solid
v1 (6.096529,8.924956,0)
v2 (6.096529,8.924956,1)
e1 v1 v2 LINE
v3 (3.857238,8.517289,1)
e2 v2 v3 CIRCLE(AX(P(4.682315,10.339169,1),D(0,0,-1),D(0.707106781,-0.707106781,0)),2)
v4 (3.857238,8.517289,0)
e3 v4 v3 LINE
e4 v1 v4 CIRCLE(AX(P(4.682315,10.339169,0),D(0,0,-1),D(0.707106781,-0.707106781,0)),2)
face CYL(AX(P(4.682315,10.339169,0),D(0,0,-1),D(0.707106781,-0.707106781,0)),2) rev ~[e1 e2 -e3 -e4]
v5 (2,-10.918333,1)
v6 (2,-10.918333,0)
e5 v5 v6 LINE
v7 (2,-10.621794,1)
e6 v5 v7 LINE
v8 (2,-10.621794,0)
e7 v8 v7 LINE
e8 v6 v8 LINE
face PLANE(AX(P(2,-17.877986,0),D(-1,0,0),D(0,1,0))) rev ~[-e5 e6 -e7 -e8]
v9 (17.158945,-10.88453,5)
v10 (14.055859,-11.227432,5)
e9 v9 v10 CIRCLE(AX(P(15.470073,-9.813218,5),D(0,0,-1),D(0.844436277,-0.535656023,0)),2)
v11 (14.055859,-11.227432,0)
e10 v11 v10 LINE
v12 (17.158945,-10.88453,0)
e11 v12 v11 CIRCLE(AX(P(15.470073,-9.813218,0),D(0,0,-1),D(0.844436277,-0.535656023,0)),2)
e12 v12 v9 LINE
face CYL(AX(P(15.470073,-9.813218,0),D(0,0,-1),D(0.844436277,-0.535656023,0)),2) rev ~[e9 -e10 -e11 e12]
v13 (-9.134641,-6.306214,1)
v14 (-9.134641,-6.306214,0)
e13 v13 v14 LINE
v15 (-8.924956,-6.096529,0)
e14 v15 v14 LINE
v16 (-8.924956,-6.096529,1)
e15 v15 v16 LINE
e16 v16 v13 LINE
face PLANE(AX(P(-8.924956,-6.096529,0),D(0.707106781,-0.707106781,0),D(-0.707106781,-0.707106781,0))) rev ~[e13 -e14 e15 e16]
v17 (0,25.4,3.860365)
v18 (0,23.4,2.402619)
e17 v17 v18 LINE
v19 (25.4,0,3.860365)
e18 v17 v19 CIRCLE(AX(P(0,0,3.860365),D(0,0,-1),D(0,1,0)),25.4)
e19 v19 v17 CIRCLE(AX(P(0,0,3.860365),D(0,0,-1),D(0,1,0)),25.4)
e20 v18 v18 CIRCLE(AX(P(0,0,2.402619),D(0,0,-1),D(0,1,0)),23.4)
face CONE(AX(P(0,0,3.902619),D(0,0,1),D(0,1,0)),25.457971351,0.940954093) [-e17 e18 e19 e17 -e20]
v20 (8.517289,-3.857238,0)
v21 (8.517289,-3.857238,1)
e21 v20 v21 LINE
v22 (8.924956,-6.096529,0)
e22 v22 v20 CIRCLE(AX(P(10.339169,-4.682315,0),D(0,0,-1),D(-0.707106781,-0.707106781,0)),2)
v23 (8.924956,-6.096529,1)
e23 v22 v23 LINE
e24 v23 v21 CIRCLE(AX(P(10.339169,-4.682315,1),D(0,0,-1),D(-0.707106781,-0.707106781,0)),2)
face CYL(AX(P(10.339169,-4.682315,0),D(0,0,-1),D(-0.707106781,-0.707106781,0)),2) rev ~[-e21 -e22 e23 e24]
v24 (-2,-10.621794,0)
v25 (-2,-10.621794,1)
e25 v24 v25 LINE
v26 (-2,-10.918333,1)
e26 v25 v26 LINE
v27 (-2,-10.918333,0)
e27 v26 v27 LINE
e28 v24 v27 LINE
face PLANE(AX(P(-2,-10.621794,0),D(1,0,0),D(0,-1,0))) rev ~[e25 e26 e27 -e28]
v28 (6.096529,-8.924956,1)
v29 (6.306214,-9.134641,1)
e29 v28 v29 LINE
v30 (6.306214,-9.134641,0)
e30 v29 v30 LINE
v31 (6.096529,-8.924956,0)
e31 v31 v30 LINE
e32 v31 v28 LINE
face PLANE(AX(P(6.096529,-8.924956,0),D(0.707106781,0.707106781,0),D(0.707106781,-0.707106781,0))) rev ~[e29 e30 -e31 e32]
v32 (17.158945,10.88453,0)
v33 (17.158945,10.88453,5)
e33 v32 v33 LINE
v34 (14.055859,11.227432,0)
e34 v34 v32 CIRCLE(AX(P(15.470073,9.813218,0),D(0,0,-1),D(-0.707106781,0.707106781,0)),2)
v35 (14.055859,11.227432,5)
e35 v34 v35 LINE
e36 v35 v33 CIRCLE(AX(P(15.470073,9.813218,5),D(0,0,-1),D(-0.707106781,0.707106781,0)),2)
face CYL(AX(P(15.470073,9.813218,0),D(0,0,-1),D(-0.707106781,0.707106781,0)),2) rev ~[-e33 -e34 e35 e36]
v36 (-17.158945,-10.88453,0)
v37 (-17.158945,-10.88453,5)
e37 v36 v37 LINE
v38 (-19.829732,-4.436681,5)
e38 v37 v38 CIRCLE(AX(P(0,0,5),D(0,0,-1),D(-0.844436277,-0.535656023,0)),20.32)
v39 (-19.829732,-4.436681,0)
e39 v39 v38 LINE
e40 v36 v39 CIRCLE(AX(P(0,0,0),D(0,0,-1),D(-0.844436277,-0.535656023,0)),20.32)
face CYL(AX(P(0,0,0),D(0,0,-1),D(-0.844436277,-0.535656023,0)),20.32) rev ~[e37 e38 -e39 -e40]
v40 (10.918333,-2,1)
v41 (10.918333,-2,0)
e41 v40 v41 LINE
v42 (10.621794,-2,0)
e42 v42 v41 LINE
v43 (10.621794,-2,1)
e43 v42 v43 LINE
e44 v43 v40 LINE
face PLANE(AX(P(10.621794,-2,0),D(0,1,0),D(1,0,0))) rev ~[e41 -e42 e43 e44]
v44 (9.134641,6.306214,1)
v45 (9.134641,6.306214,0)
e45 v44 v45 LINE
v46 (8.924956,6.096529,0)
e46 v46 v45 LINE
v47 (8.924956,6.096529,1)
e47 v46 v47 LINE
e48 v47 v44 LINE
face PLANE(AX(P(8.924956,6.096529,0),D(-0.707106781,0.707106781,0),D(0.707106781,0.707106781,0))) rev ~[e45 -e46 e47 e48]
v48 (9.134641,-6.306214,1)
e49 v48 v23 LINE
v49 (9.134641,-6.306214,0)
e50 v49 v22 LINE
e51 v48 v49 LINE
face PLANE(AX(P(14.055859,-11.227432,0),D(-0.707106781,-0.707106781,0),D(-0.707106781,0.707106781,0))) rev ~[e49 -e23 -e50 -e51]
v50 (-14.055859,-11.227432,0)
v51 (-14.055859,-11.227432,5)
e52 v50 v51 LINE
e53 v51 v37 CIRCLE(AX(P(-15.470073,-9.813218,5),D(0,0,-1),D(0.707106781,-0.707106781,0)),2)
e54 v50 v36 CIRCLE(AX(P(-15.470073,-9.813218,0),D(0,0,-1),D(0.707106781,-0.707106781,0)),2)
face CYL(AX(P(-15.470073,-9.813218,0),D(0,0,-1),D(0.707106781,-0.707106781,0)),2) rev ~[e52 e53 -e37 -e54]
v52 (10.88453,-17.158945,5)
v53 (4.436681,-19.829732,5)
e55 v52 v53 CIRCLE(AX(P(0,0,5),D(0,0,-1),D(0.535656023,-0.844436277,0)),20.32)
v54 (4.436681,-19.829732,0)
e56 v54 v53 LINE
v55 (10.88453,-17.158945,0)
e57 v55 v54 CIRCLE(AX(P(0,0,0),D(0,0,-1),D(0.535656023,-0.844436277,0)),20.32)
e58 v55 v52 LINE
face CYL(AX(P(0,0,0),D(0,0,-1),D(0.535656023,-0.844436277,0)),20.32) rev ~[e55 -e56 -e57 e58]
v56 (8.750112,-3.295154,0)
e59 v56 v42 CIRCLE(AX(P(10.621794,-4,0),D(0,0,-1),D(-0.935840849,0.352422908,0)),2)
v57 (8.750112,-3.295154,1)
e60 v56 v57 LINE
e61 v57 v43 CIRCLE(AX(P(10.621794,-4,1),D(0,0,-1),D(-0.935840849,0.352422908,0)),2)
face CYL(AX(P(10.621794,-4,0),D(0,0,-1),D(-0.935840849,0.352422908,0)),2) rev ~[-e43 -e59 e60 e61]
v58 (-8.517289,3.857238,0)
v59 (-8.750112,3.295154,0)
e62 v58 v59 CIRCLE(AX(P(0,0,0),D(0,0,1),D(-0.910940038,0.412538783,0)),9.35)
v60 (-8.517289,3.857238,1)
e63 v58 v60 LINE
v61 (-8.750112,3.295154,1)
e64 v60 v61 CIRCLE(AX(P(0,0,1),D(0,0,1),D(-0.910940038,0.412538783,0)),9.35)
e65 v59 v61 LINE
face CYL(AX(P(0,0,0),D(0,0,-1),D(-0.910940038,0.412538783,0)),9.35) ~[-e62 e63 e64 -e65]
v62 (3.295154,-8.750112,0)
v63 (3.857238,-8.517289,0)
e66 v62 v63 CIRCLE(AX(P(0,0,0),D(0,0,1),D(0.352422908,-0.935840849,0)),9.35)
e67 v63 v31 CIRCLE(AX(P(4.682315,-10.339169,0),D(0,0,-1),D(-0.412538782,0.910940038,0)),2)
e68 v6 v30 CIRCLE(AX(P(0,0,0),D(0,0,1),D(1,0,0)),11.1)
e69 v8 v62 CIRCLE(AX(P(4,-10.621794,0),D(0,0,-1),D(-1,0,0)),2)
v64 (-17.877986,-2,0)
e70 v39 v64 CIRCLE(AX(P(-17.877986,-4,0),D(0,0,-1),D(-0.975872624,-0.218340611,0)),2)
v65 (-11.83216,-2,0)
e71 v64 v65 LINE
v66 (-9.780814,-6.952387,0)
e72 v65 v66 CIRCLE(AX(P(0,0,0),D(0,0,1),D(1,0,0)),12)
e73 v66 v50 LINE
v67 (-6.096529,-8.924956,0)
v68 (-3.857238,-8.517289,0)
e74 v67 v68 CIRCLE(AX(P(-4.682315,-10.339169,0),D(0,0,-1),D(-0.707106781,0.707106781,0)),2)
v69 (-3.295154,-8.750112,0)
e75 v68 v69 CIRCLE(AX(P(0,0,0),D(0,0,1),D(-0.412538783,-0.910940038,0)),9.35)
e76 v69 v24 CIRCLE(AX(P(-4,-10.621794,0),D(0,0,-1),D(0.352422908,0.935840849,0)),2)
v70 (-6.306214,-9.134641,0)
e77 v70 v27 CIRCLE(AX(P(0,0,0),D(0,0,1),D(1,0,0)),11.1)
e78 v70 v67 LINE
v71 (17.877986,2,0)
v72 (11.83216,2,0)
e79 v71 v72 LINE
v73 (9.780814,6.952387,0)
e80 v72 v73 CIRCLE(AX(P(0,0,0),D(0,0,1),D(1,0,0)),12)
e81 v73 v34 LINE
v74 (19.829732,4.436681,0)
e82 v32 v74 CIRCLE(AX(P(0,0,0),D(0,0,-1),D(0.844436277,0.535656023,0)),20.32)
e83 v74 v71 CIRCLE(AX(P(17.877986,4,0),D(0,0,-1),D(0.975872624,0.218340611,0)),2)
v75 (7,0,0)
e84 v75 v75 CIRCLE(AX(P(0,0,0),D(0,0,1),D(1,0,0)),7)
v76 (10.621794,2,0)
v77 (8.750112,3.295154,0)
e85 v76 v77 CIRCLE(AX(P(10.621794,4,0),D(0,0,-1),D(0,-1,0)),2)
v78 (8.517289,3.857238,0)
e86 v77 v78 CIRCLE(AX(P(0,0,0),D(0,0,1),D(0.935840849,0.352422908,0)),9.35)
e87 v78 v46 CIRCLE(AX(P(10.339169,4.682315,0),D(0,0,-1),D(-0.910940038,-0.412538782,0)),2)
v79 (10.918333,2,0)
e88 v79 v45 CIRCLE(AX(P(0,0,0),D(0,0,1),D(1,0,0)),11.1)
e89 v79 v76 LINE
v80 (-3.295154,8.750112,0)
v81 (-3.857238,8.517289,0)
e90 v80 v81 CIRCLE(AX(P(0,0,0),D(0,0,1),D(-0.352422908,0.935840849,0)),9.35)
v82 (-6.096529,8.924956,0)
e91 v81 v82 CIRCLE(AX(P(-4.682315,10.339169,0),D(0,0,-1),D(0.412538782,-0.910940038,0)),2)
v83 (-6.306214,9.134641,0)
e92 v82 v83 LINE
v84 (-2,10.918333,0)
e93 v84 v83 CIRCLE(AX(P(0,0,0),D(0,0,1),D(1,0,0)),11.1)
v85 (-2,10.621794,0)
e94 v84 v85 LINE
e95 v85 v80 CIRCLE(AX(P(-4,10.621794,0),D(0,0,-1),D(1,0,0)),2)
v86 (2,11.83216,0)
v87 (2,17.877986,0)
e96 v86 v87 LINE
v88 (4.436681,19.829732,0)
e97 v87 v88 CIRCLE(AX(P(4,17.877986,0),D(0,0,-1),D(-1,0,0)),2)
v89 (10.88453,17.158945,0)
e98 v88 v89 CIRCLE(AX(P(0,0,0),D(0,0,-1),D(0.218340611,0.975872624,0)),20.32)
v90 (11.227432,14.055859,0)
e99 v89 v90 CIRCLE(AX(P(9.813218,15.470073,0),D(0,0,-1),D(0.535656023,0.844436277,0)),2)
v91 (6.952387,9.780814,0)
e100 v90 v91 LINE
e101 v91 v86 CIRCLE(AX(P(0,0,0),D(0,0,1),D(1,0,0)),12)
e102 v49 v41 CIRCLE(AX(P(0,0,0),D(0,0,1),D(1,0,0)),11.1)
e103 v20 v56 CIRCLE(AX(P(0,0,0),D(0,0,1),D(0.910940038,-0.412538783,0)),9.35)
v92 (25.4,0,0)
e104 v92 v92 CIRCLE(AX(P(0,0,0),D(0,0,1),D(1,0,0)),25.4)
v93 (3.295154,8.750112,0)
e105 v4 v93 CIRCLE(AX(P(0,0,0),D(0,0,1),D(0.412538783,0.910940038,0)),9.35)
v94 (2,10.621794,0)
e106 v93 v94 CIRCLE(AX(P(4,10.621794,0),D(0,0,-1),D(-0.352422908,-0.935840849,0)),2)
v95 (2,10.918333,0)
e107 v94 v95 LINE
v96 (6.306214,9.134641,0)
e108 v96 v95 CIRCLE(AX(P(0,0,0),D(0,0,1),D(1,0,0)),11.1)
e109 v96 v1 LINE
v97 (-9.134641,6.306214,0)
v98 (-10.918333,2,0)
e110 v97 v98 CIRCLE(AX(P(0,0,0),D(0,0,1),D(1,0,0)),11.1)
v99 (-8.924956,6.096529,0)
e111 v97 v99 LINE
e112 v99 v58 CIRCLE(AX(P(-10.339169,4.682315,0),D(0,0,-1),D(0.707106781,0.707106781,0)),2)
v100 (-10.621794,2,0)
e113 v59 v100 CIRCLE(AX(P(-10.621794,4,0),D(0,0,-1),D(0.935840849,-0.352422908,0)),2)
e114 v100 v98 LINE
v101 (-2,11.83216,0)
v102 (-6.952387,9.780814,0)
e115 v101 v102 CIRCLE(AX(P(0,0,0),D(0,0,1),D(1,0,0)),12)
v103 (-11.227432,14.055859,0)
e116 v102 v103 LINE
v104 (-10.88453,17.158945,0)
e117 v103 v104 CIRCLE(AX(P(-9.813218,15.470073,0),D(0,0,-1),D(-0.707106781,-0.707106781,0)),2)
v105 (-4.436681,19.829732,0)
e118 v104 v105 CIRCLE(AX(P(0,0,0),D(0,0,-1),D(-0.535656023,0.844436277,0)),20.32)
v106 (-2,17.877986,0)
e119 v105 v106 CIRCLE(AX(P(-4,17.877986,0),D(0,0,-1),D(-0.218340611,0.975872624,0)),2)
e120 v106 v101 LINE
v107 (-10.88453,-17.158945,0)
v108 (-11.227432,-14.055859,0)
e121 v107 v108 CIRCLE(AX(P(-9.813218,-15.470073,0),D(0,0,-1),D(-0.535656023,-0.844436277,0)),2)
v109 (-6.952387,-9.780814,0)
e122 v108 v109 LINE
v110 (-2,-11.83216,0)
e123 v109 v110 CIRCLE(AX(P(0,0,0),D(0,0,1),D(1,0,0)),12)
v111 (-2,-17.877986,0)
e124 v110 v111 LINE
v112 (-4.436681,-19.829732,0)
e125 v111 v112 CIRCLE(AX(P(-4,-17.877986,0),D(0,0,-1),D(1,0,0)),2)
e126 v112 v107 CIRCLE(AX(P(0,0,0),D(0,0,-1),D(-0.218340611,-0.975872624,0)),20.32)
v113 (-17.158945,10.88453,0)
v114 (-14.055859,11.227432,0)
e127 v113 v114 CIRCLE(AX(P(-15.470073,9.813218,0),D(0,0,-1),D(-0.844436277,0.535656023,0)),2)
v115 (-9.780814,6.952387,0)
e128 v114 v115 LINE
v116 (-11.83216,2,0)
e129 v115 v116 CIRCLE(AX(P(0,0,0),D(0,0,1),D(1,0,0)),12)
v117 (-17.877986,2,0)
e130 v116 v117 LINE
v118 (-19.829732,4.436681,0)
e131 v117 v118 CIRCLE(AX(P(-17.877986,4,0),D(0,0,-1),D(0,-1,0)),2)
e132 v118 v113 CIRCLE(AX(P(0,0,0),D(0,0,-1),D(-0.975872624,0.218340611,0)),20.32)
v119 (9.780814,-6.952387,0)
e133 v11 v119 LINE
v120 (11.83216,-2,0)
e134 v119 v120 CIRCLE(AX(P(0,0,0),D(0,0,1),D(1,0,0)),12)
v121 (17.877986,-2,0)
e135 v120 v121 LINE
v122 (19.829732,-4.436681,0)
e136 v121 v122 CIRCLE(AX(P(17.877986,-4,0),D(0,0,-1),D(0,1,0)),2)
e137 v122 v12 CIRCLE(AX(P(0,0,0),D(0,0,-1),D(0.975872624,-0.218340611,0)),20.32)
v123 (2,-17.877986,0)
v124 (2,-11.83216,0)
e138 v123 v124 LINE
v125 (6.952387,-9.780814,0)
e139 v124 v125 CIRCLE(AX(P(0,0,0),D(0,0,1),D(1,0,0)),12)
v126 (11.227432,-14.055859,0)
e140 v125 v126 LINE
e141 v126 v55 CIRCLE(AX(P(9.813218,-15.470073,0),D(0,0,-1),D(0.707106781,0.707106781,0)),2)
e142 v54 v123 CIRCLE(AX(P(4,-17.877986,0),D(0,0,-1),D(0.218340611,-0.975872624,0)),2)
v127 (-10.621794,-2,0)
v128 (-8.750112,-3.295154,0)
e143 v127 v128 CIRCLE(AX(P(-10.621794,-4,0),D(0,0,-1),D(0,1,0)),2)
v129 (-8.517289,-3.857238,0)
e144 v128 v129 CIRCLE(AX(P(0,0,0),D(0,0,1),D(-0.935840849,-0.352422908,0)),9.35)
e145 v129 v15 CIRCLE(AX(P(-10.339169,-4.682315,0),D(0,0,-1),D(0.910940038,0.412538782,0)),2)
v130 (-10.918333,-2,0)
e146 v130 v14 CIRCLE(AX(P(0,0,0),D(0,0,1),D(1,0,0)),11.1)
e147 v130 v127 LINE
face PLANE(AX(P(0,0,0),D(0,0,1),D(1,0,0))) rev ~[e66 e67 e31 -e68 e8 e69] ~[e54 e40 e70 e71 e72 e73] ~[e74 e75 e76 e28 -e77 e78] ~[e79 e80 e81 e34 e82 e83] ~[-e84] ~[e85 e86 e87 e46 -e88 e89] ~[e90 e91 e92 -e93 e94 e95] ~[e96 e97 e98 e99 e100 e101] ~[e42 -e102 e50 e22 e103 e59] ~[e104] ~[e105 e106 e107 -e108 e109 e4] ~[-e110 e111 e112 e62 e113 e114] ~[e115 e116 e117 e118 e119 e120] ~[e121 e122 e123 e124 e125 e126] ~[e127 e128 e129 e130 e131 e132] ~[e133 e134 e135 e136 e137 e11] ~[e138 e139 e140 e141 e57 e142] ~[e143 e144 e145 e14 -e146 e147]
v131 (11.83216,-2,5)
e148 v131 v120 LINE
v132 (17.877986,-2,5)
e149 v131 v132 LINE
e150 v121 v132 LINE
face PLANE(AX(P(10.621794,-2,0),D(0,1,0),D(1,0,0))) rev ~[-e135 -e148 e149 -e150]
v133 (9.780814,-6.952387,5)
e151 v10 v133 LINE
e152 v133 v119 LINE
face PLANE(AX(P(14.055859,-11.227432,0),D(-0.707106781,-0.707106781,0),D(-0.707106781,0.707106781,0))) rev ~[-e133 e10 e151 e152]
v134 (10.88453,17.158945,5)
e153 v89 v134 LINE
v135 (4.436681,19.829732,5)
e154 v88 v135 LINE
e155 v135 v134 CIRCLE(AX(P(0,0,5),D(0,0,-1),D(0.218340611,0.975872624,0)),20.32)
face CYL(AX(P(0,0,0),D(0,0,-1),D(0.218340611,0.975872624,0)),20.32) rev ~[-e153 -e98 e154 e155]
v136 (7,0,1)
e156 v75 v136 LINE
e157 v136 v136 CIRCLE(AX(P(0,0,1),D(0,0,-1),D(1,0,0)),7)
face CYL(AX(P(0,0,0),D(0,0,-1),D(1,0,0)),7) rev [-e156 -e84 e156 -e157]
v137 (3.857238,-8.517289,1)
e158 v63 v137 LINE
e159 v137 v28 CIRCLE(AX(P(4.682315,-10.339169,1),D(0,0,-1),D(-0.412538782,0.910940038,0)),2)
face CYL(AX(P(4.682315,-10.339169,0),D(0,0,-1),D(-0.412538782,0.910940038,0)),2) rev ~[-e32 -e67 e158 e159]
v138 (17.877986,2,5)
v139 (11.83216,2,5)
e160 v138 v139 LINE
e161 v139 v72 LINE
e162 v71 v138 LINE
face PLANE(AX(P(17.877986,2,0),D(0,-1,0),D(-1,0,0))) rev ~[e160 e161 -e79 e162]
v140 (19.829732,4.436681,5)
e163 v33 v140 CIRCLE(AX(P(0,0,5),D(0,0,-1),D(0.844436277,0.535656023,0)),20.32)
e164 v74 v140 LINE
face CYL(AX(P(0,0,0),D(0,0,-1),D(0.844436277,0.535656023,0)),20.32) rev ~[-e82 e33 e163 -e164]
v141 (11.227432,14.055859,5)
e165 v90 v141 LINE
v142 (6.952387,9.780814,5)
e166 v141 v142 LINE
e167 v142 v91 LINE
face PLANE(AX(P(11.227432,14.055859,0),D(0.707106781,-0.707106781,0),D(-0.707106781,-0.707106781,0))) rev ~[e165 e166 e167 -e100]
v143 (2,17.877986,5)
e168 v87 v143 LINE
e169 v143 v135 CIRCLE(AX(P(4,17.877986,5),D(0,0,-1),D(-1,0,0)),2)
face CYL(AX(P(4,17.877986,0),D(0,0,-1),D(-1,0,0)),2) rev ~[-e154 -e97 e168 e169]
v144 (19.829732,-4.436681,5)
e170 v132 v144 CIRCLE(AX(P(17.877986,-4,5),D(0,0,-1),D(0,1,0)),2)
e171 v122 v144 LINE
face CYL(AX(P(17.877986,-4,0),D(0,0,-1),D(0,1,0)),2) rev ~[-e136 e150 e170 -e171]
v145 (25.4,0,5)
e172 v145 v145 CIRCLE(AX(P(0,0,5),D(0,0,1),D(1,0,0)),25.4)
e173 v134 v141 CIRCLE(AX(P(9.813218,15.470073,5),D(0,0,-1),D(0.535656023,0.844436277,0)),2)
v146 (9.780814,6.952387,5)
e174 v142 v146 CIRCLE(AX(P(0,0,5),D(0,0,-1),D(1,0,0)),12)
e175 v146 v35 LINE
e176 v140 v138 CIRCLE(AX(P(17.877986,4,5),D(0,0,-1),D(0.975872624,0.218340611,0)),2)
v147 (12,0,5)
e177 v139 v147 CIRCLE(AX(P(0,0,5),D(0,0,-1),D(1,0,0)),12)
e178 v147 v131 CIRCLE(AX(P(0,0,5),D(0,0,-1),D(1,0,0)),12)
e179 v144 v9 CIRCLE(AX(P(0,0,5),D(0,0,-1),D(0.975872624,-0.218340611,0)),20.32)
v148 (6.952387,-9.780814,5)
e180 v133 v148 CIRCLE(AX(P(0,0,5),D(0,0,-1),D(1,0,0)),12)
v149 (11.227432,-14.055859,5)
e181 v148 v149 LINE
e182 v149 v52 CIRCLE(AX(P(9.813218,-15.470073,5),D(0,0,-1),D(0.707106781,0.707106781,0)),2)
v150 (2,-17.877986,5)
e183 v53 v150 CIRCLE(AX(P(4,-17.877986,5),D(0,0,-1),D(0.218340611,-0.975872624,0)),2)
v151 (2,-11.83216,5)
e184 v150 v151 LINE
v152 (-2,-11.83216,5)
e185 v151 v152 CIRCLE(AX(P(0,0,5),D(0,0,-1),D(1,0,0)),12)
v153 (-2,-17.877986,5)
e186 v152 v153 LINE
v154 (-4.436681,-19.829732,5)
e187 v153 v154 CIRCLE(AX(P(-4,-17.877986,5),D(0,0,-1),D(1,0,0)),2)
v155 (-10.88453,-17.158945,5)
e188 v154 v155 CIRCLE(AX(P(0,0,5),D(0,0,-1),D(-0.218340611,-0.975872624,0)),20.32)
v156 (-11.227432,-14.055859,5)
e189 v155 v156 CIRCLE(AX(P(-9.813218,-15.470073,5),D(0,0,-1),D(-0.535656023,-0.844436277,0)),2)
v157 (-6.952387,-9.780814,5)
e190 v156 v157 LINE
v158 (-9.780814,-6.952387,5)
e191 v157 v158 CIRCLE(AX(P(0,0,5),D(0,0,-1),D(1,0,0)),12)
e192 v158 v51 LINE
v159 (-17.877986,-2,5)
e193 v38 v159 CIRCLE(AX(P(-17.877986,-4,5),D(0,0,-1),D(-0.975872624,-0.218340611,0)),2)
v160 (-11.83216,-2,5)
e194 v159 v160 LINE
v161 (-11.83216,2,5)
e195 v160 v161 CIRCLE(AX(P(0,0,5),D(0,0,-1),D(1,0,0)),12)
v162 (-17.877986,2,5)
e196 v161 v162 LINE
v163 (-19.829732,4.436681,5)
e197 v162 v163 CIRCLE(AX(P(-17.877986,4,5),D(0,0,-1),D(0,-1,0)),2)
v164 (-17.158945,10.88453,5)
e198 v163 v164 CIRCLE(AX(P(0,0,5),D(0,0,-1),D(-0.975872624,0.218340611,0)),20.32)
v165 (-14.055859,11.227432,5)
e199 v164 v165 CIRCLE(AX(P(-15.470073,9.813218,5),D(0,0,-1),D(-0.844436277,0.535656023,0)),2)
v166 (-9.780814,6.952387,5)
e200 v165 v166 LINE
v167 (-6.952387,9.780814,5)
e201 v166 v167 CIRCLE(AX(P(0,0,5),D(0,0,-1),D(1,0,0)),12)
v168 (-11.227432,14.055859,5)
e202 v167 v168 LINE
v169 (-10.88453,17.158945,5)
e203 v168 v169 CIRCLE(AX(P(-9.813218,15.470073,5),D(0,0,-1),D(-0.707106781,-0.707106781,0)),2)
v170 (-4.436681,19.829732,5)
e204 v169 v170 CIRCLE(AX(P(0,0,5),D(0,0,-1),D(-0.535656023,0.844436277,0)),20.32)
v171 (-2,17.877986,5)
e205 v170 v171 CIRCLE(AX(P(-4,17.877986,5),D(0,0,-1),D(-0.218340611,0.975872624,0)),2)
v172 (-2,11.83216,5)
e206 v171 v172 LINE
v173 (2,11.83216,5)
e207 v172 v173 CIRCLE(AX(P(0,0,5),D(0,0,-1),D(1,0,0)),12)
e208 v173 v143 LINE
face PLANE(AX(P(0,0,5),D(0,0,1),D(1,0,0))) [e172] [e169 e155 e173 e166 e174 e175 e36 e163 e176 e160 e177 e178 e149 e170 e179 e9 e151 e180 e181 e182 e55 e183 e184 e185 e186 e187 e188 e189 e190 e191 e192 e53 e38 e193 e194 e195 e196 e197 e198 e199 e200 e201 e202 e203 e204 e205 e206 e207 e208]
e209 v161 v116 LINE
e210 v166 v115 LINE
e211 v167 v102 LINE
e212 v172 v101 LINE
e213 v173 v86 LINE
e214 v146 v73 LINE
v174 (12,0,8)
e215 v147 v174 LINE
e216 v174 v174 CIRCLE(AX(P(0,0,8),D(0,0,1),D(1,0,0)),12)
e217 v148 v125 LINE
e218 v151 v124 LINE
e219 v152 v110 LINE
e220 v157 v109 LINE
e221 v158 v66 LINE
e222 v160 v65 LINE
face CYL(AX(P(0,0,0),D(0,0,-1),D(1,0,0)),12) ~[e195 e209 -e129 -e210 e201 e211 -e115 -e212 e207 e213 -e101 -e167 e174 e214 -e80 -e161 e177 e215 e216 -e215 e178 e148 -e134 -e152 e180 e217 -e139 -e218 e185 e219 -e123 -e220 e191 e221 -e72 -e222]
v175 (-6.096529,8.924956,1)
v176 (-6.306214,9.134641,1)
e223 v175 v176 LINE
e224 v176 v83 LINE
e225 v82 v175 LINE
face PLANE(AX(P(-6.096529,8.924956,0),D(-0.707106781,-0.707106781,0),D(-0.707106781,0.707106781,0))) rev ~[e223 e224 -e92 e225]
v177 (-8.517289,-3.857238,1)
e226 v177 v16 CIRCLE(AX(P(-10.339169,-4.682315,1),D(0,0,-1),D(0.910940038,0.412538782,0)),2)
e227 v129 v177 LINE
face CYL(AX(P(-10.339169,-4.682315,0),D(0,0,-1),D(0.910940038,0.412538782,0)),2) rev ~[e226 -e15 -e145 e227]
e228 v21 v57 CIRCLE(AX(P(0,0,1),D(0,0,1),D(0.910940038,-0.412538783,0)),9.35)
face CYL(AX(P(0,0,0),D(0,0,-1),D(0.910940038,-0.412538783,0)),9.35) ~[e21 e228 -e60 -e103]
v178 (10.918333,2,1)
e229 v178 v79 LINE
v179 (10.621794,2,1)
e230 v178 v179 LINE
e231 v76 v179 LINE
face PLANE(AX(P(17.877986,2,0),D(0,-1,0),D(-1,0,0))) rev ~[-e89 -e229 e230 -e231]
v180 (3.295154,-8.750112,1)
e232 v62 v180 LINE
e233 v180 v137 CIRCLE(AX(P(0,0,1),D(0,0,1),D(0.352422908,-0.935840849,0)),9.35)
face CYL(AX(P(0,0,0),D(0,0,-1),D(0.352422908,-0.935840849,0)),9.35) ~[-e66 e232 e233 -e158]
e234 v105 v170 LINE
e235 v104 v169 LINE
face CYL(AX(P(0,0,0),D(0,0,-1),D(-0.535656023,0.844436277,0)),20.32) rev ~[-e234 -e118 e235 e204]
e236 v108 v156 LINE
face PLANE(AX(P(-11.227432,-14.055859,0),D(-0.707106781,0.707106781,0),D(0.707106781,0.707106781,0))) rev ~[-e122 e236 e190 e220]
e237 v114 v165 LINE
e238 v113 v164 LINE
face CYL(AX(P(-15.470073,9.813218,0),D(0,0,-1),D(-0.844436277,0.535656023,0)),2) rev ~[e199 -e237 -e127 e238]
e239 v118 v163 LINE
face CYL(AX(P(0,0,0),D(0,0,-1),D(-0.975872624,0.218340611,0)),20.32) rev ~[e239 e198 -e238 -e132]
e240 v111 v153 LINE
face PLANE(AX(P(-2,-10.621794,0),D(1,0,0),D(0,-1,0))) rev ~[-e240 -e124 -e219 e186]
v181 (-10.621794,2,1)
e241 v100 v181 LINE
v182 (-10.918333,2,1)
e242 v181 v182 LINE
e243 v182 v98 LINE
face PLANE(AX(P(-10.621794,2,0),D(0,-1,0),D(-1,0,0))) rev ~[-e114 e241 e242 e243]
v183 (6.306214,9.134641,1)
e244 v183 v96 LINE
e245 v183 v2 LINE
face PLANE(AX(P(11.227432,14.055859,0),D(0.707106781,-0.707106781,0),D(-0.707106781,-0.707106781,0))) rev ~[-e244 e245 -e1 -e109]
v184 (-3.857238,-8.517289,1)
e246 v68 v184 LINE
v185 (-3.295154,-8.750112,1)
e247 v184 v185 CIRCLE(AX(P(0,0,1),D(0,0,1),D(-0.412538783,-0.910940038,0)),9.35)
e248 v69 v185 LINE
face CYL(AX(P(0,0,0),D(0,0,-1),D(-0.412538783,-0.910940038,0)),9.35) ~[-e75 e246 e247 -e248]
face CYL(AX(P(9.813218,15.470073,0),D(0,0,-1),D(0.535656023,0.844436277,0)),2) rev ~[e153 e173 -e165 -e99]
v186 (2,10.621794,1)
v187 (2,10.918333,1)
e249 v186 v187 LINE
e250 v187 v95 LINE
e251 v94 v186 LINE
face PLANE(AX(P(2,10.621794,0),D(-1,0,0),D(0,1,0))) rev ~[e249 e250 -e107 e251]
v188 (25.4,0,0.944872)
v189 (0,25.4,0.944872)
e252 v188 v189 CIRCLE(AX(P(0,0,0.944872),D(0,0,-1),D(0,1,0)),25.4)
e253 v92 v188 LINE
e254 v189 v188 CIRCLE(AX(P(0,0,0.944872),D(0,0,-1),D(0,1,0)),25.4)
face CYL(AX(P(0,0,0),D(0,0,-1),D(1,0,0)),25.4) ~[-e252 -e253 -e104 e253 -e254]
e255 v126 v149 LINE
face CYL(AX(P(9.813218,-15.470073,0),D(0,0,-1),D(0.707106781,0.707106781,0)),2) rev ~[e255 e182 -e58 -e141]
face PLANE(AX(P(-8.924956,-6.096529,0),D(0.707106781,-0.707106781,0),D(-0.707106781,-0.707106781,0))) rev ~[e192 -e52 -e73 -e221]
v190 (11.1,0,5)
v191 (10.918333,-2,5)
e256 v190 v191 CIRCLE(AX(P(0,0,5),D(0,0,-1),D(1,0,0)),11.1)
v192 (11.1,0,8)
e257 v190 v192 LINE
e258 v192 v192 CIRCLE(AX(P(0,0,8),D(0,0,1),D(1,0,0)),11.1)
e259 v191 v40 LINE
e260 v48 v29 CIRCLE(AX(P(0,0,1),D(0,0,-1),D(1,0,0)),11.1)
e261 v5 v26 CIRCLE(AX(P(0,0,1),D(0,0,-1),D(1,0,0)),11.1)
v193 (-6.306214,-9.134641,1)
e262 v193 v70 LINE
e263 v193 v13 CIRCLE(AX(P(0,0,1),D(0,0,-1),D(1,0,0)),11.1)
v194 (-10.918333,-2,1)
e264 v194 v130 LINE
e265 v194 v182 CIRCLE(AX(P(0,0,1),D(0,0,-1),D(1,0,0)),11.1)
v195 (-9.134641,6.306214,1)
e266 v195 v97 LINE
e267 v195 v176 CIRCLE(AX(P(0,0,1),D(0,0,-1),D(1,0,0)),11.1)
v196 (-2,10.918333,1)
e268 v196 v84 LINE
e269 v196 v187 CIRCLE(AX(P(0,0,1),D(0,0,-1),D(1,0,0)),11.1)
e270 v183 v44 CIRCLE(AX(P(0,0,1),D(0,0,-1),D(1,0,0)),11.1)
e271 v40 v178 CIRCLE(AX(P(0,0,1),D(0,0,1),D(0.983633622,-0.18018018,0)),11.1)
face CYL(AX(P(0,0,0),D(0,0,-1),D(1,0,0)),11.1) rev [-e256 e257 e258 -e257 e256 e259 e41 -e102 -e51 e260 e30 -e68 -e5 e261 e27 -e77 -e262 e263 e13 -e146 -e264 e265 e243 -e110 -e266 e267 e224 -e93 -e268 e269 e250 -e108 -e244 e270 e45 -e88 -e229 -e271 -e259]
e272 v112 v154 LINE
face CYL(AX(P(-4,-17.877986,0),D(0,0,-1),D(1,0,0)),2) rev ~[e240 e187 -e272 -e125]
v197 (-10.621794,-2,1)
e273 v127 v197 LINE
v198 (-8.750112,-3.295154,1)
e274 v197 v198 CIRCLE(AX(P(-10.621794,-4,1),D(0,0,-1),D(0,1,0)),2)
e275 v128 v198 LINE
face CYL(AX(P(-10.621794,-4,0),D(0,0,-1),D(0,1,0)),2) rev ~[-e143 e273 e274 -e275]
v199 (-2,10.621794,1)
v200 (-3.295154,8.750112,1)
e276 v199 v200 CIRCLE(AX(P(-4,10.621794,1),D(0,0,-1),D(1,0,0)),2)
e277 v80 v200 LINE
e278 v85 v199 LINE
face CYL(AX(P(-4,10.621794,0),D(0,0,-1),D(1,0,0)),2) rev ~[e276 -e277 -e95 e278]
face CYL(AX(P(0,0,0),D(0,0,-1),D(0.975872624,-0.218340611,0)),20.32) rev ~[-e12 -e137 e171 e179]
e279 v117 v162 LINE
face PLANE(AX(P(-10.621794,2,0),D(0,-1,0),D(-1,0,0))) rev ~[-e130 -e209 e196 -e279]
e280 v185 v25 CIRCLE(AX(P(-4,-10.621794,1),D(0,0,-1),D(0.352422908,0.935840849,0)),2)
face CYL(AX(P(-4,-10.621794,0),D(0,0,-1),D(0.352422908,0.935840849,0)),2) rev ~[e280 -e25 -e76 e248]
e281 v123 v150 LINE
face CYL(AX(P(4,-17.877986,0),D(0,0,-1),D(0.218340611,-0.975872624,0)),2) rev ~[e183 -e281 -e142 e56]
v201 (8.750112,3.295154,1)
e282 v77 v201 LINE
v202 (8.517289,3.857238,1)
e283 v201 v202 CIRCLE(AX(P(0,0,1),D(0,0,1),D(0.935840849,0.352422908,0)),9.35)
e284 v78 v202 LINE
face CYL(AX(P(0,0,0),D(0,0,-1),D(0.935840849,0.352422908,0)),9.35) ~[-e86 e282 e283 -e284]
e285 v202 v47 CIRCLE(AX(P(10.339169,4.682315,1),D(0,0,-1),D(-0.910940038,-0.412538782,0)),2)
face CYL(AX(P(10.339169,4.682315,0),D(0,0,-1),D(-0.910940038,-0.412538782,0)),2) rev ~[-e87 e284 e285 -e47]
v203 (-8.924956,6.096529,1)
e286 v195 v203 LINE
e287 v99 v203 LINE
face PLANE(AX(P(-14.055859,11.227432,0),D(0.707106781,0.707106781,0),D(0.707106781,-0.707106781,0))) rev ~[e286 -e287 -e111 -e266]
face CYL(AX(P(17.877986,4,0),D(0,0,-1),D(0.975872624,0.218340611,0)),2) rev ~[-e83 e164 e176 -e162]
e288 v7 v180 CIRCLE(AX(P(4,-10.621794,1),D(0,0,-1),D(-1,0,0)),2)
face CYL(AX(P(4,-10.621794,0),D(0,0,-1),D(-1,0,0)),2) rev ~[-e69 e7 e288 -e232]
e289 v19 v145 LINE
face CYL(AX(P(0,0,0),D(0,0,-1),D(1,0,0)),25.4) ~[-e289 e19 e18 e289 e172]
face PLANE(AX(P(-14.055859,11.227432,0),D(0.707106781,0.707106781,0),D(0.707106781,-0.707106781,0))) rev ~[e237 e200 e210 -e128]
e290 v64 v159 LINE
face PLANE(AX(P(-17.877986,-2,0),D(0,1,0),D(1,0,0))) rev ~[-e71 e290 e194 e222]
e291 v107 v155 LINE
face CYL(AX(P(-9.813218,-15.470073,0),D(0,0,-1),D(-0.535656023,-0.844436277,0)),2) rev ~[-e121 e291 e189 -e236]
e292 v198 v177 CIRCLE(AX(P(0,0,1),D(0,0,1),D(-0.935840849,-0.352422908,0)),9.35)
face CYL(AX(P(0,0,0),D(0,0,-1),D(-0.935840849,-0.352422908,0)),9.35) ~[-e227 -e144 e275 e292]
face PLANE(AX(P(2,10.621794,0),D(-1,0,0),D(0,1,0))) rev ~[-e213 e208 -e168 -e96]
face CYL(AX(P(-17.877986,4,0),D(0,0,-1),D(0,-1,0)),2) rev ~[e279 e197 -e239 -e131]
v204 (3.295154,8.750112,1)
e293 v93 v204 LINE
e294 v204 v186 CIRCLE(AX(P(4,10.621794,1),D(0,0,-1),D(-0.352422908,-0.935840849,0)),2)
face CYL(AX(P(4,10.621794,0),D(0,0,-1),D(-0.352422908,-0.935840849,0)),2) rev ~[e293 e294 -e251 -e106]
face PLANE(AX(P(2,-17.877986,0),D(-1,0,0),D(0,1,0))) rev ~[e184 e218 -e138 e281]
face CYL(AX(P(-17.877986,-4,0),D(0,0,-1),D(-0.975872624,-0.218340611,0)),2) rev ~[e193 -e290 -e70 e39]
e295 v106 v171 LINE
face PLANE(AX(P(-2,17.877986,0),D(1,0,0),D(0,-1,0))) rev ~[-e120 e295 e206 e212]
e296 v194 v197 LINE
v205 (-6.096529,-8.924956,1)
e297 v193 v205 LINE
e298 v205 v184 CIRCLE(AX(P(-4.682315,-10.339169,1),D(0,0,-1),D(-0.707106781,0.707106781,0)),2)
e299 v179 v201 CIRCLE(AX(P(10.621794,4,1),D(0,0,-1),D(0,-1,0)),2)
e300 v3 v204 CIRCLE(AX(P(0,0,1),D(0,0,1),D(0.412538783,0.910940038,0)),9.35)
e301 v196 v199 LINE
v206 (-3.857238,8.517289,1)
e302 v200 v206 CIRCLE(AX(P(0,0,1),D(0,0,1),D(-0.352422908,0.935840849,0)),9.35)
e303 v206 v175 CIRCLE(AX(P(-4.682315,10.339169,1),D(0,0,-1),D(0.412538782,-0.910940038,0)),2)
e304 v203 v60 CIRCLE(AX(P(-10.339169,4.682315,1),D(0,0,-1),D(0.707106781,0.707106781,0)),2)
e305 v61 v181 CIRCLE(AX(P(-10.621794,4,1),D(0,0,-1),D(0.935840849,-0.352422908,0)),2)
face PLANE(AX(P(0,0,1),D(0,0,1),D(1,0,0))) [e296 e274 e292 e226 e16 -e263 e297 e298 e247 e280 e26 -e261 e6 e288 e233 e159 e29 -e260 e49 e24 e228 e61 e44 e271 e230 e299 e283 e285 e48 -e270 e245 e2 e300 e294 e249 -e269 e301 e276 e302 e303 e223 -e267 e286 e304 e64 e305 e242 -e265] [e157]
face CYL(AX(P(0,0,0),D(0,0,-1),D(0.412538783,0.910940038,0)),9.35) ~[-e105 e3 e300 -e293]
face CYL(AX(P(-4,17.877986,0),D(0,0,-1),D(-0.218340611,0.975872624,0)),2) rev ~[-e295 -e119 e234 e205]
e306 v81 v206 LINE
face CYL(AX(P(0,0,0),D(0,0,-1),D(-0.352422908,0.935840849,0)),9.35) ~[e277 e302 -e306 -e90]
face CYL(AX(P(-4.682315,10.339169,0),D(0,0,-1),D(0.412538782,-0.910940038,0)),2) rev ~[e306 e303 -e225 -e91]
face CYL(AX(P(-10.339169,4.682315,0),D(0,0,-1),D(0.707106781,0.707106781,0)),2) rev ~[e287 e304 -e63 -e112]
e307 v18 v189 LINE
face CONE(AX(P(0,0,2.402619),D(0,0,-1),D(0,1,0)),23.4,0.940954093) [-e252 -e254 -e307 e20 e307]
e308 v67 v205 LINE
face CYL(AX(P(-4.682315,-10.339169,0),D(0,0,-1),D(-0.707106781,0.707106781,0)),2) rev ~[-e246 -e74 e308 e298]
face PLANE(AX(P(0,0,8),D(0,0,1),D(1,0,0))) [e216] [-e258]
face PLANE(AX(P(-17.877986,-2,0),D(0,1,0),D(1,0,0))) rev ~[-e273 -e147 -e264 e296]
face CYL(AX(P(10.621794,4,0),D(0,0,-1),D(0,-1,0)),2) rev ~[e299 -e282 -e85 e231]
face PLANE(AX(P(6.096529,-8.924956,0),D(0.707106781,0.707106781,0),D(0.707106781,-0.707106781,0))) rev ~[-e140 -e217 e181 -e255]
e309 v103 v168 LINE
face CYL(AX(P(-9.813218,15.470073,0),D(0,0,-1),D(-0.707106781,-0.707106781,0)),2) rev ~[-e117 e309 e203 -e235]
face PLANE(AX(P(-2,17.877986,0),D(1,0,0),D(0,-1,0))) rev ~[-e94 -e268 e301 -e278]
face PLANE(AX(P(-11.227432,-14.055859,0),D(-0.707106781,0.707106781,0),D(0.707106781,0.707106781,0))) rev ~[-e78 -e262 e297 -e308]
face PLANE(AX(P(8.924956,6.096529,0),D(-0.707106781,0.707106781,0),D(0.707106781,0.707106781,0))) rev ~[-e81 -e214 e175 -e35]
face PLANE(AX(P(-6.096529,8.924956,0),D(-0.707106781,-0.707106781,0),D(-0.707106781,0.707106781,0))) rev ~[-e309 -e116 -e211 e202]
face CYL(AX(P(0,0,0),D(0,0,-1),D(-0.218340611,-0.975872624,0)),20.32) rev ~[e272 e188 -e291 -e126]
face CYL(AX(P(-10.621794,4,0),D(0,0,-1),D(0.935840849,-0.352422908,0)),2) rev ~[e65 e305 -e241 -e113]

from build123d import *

# Parameters (mm, degrees)
F0_R      = 25.4
F0_R_2    = 3
F1_DEPTH  = 5
F2_R      = 12
F2_R_2    = 11.1
F3_DEPTH  = 8
F4_R      = 3
F5_DEPTH  = 8.001
F9_DEPTH  = 4
F8_R      = 7
F10_DEPTH = 8.001


with BuildPart() as f1:
    # F0 (on Top) → F1 (new body)
    with BuildSketch(Plane.XY):
        Circle(F0_R)
        with BuildLine():
            ThreePointArc((-10.8845303834, -17.1589451405), (-11.8011180453, -15.6897422321), (-11.2274319001, -14.0558590249))
            Line((-11.2274319001, -14.0558590249), (-6.0965287445, -8.9249558692))
            ThreePointArc((-6.0965287445, -8.9249558692), (-5.0405306234, -8.3715104933), (-3.857237617, -8.5172893555))
            ThreePointArc((-3.857237617, -8.5172893555), (-3.5780900926, -8.638273629), (-3.295154185, -8.7501119363))
            ThreePointArc((-3.295154185, -8.7501119363), (-2.355358454, -9.4837452232), (-2, -10.6217936338))
            Line((-2, -10.6217936338), (-2, -17.8779864638))
            ThreePointArc((-2, -17.8779864638), (-2.749672532, -19.4389737228), (-4.4366812227, -19.8297317109))
            ThreePointArc((-4.4366812227, -19.8297317109), (-7.7761273457, -18.7732321006), (-10.8845303834, -17.1589451405))
        make_face(mode=Mode.SUBTRACT)
        with BuildLine():
            ThreePointArc((-19.8297317109, -4.4366812227), (-19.4389737228, -2.749672532), (-17.8779864638, -2))
            Line((-17.8779864638, -2), (-10.6217936338, -2))
            ThreePointArc((-10.6217936338, -2), (-9.4837452232, -2.355358454), (-8.7501119363, -3.295154185))
            ThreePointArc((-8.7501119363, -3.295154185), (-8.638273629, -3.5780900926), (-8.5172893555, -3.857237617))
            ThreePointArc((-8.5172893555, -3.857237617), (-8.3715104933, -5.0405306234), (-8.9249558692, -6.0965287445))
            Line((-8.9249558692, -6.0965287445), (-14.0558590249, -11.2274319001))
            ThreePointArc((-14.0558590249, -11.2274319001), (-15.6897422321, -11.8011180453), (-17.1589451405, -10.8845303834))
            ThreePointArc((-17.1589451405, -10.8845303834), (-18.7732321006, -7.7761273457), (-19.8297317109, -4.4366812227))
        make_face(mode=Mode.SUBTRACT)
        Circle(F0_R_2, mode=Mode.SUBTRACT)
        with BuildLine():
            ThreePointArc((4.4366812227, -19.8297317109), (2.749672532, -19.4389737228), (2, -17.8779864638))
            Line((2, -17.8779864638), (2, -10.6217936338))
            ThreePointArc((2, -10.6217936338), (2.355358454, -9.4837452232), (3.295154185, -8.7501119363))
            ThreePointArc((3.295154185, -8.7501119363), (3.5780900926, -8.638273629), (3.857237617, -8.5172893555))
            ThreePointArc((3.857237617, -8.5172893555), (5.0405306234, -8.3715104933), (6.0965287445, -8.9249558692))
            Line((6.0965287445, -8.9249558692), (11.2274319001, -14.0558590249))
            ThreePointArc((11.2274319001, -14.0558590249), (11.8011180453, -15.6897422321), (10.8845303834, -17.1589451405))
            ThreePointArc((10.8845303834, -17.1589451405), (7.7761273457, -18.7732321006), (4.4366812227, -19.8297317109))
        make_face(mode=Mode.SUBTRACT)
        with BuildLine():
            ThreePointArc((17.1589451405, -10.8845303834), (15.6897422321, -11.8011180453), (14.0558590249, -11.2274319001))
            Line((14.0558590249, -11.2274319001), (8.9249558692, -6.0965287445))
            ThreePointArc((8.9249558692, -6.0965287445), (8.3715104933, -5.0405306234), (8.5172893555, -3.857237617))
            ThreePointArc((8.5172893555, -3.857237617), (8.638273629, -3.5780900926), (8.7501119363, -3.295154185))
            ThreePointArc((8.7501119363, -3.295154185), (9.4837452232, -2.355358454), (10.6217936338, -2))
            Line((10.6217936338, -2), (17.8779864638, -2))
            ThreePointArc((17.8779864638, -2), (19.4389737228, -2.749672532), (19.8297317109, -4.4366812227))
            ThreePointArc((19.8297317109, -4.4366812227), (18.7732321006, -7.7761273457), (17.1589451405, -10.8845303834))
        make_face(mode=Mode.SUBTRACT)
        with BuildLine():
            ThreePointArc((-17.1589451405, 10.8845303834), (-15.6897422321, 11.8011180453), (-14.0558590249, 11.2274319001))
            Line((-14.0558590249, 11.2274319001), (-8.9249558692, 6.0965287445))
            ThreePointArc((-8.9249558692, 6.0965287445), (-8.3715104933, 5.0405306234), (-8.5172893555, 3.857237617))
            ThreePointArc((-8.5172893555, 3.857237617), (-8.638273629, 3.5780900926), (-8.7501119363, 3.295154185))
            ThreePointArc((-8.7501119363, 3.295154185), (-9.4837452232, 2.355358454), (-10.6217936338, 2))
            Line((-10.6217936338, 2), (-17.8779864638, 2))
            ThreePointArc((-17.8779864638, 2), (-19.4389737228, 2.749672532), (-19.8297317109, 4.4366812227))
            ThreePointArc((-19.8297317109, 4.4366812227), (-18.7732321006, 7.7761273457), (-17.1589451405, 10.8845303834))
        make_face(mode=Mode.SUBTRACT)
        with BuildLine():
            ThreePointArc((-10.8845303834, 17.1589451405), (-7.7761273457, 18.7732321006), (-4.4366812227, 19.8297317109))
            ThreePointArc((-4.4366812227, 19.8297317109), (-2.749672532, 19.4389737228), (-2, 17.8779864638))
            Line((-2, 17.8779864638), (-2, 10.6217936338))
            ThreePointArc((-2, 10.6217936338), (-2.355358454, 9.4837452232), (-3.295154185, 8.7501119363))
            ThreePointArc((-3.295154185, 8.7501119363), (-3.5780900926, 8.638273629), (-3.857237617, 8.5172893555))
            ThreePointArc((-3.857237617, 8.5172893555), (-5.0405306234, 8.3715104933), (-6.0965287445, 8.9249558692))
            Line((-6.0965287445, 8.9249558692), (-11.2274319001, 14.0558590249))
            ThreePointArc((-11.2274319001, 14.0558590249), (-11.8011180453, 15.6897422321), (-10.8845303834, 17.1589451405))
        make_face(mode=Mode.SUBTRACT)
        with BuildLine():
            ThreePointArc((19.8297317109, 4.4366812227), (19.4389737228, 2.749672532), (17.8779864638, 2))
            Line((17.8779864638, 2), (10.6217936338, 2))
            ThreePointArc((10.6217936338, 2), (9.4837452232, 2.355358454), (8.7501119363, 3.295154185))
            ThreePointArc((8.7501119363, 3.295154185), (8.638273629, 3.5780900926), (8.5172893555, 3.857237617))
            ThreePointArc((8.5172893555, 3.857237617), (8.3715104933, 5.0405306234), (8.9249558692, 6.0965287445))
            Line((8.9249558692, 6.0965287445), (14.0558590249, 11.2274319001))
            ThreePointArc((14.0558590249, 11.2274319001), (15.6897422321, 11.8011180453), (17.1589451405, 10.8845303834))
            ThreePointArc((17.1589451405, 10.8845303834), (18.7732321006, 7.7761273457), (19.8297317109, 4.4366812227))
        make_face(mode=Mode.SUBTRACT)
        with BuildLine():
            Line((2, 10.6217936338), (2, 17.8779864638))
            ThreePointArc((2, 17.8779864638), (2.749672532, 19.4389737228), (4.4366812227, 19.8297317109))
            ThreePointArc((4.4366812227, 19.8297317109), (7.7761273457, 18.7732321006), (10.8845303834, 17.1589451405))
            ThreePointArc((10.8845303834, 17.1589451405), (11.8011180453, 15.6897422321), (11.2274319001, 14.0558590249))
            Line((11.2274319001, 14.0558590249), (6.0965287445, 8.9249558692))
            ThreePointArc((6.0965287445, 8.9249558692), (5.0405306234, 8.3715104933), (3.857237617, 8.5172893555))
            ThreePointArc((3.857237617, 8.5172893555), (3.5780900926, 8.638273629), (3.295154185, 8.7501119363))
            ThreePointArc((3.295154185, 8.7501119363), (2.355358454, 9.4837452232), (2, 10.6217936338))
        make_face(mode=Mode.SUBTRACT)
    extrude(amount=F1_DEPTH)

    # F2 (on Top) → F3 (join)
    with BuildSketch(Plane.XY):
        Circle(F2_R)
        Circle(F2_R_2, mode=Mode.SUBTRACT)
    extrude(amount=F3_DEPTH)

    # F4 (on face) → F5 (cut, through all)
    with BuildSketch(Plane.XY.offset(8)):
        Circle(F4_R)
    extrude(amount=-F5_DEPTH, mode=Mode.SUBTRACT)

    # F6 (on Right) → F7 (revolve, cut)
    with BuildSketch(Plane.YZ):
        Polygon((25.4579713509, 0.9026185274), (25.4, 2.4026185274), (23.4, 2.4026185274), align=None)
        Polygon((23.4, 2.4026185274), (25.4, 2.4026185274), (25.4579713509, 3.9026185274), align=None)
    revolve(axis=Axis((0, 0, 8.0988456029), (0, 0, -1)), mode=Mode.SUBTRACT)

    # F9 (cut): a face of the model
    f9_faces = [f1.faces().sort_by_distance(p)[0] for p in [
        (-7.6268852712, -7.6268852712, 5),
    ]]
    extrude(f9_faces, amount=-F9_DEPTH, mode=Mode.SUBTRACT)

    # F8 (on Top) → F10 (cut, through all)
    with BuildSketch(Plane.XY):
        Circle(F8_R)
    extrude(amount=F10_DEPTH, mode=Mode.SUBTRACT)


solid = f1.part
